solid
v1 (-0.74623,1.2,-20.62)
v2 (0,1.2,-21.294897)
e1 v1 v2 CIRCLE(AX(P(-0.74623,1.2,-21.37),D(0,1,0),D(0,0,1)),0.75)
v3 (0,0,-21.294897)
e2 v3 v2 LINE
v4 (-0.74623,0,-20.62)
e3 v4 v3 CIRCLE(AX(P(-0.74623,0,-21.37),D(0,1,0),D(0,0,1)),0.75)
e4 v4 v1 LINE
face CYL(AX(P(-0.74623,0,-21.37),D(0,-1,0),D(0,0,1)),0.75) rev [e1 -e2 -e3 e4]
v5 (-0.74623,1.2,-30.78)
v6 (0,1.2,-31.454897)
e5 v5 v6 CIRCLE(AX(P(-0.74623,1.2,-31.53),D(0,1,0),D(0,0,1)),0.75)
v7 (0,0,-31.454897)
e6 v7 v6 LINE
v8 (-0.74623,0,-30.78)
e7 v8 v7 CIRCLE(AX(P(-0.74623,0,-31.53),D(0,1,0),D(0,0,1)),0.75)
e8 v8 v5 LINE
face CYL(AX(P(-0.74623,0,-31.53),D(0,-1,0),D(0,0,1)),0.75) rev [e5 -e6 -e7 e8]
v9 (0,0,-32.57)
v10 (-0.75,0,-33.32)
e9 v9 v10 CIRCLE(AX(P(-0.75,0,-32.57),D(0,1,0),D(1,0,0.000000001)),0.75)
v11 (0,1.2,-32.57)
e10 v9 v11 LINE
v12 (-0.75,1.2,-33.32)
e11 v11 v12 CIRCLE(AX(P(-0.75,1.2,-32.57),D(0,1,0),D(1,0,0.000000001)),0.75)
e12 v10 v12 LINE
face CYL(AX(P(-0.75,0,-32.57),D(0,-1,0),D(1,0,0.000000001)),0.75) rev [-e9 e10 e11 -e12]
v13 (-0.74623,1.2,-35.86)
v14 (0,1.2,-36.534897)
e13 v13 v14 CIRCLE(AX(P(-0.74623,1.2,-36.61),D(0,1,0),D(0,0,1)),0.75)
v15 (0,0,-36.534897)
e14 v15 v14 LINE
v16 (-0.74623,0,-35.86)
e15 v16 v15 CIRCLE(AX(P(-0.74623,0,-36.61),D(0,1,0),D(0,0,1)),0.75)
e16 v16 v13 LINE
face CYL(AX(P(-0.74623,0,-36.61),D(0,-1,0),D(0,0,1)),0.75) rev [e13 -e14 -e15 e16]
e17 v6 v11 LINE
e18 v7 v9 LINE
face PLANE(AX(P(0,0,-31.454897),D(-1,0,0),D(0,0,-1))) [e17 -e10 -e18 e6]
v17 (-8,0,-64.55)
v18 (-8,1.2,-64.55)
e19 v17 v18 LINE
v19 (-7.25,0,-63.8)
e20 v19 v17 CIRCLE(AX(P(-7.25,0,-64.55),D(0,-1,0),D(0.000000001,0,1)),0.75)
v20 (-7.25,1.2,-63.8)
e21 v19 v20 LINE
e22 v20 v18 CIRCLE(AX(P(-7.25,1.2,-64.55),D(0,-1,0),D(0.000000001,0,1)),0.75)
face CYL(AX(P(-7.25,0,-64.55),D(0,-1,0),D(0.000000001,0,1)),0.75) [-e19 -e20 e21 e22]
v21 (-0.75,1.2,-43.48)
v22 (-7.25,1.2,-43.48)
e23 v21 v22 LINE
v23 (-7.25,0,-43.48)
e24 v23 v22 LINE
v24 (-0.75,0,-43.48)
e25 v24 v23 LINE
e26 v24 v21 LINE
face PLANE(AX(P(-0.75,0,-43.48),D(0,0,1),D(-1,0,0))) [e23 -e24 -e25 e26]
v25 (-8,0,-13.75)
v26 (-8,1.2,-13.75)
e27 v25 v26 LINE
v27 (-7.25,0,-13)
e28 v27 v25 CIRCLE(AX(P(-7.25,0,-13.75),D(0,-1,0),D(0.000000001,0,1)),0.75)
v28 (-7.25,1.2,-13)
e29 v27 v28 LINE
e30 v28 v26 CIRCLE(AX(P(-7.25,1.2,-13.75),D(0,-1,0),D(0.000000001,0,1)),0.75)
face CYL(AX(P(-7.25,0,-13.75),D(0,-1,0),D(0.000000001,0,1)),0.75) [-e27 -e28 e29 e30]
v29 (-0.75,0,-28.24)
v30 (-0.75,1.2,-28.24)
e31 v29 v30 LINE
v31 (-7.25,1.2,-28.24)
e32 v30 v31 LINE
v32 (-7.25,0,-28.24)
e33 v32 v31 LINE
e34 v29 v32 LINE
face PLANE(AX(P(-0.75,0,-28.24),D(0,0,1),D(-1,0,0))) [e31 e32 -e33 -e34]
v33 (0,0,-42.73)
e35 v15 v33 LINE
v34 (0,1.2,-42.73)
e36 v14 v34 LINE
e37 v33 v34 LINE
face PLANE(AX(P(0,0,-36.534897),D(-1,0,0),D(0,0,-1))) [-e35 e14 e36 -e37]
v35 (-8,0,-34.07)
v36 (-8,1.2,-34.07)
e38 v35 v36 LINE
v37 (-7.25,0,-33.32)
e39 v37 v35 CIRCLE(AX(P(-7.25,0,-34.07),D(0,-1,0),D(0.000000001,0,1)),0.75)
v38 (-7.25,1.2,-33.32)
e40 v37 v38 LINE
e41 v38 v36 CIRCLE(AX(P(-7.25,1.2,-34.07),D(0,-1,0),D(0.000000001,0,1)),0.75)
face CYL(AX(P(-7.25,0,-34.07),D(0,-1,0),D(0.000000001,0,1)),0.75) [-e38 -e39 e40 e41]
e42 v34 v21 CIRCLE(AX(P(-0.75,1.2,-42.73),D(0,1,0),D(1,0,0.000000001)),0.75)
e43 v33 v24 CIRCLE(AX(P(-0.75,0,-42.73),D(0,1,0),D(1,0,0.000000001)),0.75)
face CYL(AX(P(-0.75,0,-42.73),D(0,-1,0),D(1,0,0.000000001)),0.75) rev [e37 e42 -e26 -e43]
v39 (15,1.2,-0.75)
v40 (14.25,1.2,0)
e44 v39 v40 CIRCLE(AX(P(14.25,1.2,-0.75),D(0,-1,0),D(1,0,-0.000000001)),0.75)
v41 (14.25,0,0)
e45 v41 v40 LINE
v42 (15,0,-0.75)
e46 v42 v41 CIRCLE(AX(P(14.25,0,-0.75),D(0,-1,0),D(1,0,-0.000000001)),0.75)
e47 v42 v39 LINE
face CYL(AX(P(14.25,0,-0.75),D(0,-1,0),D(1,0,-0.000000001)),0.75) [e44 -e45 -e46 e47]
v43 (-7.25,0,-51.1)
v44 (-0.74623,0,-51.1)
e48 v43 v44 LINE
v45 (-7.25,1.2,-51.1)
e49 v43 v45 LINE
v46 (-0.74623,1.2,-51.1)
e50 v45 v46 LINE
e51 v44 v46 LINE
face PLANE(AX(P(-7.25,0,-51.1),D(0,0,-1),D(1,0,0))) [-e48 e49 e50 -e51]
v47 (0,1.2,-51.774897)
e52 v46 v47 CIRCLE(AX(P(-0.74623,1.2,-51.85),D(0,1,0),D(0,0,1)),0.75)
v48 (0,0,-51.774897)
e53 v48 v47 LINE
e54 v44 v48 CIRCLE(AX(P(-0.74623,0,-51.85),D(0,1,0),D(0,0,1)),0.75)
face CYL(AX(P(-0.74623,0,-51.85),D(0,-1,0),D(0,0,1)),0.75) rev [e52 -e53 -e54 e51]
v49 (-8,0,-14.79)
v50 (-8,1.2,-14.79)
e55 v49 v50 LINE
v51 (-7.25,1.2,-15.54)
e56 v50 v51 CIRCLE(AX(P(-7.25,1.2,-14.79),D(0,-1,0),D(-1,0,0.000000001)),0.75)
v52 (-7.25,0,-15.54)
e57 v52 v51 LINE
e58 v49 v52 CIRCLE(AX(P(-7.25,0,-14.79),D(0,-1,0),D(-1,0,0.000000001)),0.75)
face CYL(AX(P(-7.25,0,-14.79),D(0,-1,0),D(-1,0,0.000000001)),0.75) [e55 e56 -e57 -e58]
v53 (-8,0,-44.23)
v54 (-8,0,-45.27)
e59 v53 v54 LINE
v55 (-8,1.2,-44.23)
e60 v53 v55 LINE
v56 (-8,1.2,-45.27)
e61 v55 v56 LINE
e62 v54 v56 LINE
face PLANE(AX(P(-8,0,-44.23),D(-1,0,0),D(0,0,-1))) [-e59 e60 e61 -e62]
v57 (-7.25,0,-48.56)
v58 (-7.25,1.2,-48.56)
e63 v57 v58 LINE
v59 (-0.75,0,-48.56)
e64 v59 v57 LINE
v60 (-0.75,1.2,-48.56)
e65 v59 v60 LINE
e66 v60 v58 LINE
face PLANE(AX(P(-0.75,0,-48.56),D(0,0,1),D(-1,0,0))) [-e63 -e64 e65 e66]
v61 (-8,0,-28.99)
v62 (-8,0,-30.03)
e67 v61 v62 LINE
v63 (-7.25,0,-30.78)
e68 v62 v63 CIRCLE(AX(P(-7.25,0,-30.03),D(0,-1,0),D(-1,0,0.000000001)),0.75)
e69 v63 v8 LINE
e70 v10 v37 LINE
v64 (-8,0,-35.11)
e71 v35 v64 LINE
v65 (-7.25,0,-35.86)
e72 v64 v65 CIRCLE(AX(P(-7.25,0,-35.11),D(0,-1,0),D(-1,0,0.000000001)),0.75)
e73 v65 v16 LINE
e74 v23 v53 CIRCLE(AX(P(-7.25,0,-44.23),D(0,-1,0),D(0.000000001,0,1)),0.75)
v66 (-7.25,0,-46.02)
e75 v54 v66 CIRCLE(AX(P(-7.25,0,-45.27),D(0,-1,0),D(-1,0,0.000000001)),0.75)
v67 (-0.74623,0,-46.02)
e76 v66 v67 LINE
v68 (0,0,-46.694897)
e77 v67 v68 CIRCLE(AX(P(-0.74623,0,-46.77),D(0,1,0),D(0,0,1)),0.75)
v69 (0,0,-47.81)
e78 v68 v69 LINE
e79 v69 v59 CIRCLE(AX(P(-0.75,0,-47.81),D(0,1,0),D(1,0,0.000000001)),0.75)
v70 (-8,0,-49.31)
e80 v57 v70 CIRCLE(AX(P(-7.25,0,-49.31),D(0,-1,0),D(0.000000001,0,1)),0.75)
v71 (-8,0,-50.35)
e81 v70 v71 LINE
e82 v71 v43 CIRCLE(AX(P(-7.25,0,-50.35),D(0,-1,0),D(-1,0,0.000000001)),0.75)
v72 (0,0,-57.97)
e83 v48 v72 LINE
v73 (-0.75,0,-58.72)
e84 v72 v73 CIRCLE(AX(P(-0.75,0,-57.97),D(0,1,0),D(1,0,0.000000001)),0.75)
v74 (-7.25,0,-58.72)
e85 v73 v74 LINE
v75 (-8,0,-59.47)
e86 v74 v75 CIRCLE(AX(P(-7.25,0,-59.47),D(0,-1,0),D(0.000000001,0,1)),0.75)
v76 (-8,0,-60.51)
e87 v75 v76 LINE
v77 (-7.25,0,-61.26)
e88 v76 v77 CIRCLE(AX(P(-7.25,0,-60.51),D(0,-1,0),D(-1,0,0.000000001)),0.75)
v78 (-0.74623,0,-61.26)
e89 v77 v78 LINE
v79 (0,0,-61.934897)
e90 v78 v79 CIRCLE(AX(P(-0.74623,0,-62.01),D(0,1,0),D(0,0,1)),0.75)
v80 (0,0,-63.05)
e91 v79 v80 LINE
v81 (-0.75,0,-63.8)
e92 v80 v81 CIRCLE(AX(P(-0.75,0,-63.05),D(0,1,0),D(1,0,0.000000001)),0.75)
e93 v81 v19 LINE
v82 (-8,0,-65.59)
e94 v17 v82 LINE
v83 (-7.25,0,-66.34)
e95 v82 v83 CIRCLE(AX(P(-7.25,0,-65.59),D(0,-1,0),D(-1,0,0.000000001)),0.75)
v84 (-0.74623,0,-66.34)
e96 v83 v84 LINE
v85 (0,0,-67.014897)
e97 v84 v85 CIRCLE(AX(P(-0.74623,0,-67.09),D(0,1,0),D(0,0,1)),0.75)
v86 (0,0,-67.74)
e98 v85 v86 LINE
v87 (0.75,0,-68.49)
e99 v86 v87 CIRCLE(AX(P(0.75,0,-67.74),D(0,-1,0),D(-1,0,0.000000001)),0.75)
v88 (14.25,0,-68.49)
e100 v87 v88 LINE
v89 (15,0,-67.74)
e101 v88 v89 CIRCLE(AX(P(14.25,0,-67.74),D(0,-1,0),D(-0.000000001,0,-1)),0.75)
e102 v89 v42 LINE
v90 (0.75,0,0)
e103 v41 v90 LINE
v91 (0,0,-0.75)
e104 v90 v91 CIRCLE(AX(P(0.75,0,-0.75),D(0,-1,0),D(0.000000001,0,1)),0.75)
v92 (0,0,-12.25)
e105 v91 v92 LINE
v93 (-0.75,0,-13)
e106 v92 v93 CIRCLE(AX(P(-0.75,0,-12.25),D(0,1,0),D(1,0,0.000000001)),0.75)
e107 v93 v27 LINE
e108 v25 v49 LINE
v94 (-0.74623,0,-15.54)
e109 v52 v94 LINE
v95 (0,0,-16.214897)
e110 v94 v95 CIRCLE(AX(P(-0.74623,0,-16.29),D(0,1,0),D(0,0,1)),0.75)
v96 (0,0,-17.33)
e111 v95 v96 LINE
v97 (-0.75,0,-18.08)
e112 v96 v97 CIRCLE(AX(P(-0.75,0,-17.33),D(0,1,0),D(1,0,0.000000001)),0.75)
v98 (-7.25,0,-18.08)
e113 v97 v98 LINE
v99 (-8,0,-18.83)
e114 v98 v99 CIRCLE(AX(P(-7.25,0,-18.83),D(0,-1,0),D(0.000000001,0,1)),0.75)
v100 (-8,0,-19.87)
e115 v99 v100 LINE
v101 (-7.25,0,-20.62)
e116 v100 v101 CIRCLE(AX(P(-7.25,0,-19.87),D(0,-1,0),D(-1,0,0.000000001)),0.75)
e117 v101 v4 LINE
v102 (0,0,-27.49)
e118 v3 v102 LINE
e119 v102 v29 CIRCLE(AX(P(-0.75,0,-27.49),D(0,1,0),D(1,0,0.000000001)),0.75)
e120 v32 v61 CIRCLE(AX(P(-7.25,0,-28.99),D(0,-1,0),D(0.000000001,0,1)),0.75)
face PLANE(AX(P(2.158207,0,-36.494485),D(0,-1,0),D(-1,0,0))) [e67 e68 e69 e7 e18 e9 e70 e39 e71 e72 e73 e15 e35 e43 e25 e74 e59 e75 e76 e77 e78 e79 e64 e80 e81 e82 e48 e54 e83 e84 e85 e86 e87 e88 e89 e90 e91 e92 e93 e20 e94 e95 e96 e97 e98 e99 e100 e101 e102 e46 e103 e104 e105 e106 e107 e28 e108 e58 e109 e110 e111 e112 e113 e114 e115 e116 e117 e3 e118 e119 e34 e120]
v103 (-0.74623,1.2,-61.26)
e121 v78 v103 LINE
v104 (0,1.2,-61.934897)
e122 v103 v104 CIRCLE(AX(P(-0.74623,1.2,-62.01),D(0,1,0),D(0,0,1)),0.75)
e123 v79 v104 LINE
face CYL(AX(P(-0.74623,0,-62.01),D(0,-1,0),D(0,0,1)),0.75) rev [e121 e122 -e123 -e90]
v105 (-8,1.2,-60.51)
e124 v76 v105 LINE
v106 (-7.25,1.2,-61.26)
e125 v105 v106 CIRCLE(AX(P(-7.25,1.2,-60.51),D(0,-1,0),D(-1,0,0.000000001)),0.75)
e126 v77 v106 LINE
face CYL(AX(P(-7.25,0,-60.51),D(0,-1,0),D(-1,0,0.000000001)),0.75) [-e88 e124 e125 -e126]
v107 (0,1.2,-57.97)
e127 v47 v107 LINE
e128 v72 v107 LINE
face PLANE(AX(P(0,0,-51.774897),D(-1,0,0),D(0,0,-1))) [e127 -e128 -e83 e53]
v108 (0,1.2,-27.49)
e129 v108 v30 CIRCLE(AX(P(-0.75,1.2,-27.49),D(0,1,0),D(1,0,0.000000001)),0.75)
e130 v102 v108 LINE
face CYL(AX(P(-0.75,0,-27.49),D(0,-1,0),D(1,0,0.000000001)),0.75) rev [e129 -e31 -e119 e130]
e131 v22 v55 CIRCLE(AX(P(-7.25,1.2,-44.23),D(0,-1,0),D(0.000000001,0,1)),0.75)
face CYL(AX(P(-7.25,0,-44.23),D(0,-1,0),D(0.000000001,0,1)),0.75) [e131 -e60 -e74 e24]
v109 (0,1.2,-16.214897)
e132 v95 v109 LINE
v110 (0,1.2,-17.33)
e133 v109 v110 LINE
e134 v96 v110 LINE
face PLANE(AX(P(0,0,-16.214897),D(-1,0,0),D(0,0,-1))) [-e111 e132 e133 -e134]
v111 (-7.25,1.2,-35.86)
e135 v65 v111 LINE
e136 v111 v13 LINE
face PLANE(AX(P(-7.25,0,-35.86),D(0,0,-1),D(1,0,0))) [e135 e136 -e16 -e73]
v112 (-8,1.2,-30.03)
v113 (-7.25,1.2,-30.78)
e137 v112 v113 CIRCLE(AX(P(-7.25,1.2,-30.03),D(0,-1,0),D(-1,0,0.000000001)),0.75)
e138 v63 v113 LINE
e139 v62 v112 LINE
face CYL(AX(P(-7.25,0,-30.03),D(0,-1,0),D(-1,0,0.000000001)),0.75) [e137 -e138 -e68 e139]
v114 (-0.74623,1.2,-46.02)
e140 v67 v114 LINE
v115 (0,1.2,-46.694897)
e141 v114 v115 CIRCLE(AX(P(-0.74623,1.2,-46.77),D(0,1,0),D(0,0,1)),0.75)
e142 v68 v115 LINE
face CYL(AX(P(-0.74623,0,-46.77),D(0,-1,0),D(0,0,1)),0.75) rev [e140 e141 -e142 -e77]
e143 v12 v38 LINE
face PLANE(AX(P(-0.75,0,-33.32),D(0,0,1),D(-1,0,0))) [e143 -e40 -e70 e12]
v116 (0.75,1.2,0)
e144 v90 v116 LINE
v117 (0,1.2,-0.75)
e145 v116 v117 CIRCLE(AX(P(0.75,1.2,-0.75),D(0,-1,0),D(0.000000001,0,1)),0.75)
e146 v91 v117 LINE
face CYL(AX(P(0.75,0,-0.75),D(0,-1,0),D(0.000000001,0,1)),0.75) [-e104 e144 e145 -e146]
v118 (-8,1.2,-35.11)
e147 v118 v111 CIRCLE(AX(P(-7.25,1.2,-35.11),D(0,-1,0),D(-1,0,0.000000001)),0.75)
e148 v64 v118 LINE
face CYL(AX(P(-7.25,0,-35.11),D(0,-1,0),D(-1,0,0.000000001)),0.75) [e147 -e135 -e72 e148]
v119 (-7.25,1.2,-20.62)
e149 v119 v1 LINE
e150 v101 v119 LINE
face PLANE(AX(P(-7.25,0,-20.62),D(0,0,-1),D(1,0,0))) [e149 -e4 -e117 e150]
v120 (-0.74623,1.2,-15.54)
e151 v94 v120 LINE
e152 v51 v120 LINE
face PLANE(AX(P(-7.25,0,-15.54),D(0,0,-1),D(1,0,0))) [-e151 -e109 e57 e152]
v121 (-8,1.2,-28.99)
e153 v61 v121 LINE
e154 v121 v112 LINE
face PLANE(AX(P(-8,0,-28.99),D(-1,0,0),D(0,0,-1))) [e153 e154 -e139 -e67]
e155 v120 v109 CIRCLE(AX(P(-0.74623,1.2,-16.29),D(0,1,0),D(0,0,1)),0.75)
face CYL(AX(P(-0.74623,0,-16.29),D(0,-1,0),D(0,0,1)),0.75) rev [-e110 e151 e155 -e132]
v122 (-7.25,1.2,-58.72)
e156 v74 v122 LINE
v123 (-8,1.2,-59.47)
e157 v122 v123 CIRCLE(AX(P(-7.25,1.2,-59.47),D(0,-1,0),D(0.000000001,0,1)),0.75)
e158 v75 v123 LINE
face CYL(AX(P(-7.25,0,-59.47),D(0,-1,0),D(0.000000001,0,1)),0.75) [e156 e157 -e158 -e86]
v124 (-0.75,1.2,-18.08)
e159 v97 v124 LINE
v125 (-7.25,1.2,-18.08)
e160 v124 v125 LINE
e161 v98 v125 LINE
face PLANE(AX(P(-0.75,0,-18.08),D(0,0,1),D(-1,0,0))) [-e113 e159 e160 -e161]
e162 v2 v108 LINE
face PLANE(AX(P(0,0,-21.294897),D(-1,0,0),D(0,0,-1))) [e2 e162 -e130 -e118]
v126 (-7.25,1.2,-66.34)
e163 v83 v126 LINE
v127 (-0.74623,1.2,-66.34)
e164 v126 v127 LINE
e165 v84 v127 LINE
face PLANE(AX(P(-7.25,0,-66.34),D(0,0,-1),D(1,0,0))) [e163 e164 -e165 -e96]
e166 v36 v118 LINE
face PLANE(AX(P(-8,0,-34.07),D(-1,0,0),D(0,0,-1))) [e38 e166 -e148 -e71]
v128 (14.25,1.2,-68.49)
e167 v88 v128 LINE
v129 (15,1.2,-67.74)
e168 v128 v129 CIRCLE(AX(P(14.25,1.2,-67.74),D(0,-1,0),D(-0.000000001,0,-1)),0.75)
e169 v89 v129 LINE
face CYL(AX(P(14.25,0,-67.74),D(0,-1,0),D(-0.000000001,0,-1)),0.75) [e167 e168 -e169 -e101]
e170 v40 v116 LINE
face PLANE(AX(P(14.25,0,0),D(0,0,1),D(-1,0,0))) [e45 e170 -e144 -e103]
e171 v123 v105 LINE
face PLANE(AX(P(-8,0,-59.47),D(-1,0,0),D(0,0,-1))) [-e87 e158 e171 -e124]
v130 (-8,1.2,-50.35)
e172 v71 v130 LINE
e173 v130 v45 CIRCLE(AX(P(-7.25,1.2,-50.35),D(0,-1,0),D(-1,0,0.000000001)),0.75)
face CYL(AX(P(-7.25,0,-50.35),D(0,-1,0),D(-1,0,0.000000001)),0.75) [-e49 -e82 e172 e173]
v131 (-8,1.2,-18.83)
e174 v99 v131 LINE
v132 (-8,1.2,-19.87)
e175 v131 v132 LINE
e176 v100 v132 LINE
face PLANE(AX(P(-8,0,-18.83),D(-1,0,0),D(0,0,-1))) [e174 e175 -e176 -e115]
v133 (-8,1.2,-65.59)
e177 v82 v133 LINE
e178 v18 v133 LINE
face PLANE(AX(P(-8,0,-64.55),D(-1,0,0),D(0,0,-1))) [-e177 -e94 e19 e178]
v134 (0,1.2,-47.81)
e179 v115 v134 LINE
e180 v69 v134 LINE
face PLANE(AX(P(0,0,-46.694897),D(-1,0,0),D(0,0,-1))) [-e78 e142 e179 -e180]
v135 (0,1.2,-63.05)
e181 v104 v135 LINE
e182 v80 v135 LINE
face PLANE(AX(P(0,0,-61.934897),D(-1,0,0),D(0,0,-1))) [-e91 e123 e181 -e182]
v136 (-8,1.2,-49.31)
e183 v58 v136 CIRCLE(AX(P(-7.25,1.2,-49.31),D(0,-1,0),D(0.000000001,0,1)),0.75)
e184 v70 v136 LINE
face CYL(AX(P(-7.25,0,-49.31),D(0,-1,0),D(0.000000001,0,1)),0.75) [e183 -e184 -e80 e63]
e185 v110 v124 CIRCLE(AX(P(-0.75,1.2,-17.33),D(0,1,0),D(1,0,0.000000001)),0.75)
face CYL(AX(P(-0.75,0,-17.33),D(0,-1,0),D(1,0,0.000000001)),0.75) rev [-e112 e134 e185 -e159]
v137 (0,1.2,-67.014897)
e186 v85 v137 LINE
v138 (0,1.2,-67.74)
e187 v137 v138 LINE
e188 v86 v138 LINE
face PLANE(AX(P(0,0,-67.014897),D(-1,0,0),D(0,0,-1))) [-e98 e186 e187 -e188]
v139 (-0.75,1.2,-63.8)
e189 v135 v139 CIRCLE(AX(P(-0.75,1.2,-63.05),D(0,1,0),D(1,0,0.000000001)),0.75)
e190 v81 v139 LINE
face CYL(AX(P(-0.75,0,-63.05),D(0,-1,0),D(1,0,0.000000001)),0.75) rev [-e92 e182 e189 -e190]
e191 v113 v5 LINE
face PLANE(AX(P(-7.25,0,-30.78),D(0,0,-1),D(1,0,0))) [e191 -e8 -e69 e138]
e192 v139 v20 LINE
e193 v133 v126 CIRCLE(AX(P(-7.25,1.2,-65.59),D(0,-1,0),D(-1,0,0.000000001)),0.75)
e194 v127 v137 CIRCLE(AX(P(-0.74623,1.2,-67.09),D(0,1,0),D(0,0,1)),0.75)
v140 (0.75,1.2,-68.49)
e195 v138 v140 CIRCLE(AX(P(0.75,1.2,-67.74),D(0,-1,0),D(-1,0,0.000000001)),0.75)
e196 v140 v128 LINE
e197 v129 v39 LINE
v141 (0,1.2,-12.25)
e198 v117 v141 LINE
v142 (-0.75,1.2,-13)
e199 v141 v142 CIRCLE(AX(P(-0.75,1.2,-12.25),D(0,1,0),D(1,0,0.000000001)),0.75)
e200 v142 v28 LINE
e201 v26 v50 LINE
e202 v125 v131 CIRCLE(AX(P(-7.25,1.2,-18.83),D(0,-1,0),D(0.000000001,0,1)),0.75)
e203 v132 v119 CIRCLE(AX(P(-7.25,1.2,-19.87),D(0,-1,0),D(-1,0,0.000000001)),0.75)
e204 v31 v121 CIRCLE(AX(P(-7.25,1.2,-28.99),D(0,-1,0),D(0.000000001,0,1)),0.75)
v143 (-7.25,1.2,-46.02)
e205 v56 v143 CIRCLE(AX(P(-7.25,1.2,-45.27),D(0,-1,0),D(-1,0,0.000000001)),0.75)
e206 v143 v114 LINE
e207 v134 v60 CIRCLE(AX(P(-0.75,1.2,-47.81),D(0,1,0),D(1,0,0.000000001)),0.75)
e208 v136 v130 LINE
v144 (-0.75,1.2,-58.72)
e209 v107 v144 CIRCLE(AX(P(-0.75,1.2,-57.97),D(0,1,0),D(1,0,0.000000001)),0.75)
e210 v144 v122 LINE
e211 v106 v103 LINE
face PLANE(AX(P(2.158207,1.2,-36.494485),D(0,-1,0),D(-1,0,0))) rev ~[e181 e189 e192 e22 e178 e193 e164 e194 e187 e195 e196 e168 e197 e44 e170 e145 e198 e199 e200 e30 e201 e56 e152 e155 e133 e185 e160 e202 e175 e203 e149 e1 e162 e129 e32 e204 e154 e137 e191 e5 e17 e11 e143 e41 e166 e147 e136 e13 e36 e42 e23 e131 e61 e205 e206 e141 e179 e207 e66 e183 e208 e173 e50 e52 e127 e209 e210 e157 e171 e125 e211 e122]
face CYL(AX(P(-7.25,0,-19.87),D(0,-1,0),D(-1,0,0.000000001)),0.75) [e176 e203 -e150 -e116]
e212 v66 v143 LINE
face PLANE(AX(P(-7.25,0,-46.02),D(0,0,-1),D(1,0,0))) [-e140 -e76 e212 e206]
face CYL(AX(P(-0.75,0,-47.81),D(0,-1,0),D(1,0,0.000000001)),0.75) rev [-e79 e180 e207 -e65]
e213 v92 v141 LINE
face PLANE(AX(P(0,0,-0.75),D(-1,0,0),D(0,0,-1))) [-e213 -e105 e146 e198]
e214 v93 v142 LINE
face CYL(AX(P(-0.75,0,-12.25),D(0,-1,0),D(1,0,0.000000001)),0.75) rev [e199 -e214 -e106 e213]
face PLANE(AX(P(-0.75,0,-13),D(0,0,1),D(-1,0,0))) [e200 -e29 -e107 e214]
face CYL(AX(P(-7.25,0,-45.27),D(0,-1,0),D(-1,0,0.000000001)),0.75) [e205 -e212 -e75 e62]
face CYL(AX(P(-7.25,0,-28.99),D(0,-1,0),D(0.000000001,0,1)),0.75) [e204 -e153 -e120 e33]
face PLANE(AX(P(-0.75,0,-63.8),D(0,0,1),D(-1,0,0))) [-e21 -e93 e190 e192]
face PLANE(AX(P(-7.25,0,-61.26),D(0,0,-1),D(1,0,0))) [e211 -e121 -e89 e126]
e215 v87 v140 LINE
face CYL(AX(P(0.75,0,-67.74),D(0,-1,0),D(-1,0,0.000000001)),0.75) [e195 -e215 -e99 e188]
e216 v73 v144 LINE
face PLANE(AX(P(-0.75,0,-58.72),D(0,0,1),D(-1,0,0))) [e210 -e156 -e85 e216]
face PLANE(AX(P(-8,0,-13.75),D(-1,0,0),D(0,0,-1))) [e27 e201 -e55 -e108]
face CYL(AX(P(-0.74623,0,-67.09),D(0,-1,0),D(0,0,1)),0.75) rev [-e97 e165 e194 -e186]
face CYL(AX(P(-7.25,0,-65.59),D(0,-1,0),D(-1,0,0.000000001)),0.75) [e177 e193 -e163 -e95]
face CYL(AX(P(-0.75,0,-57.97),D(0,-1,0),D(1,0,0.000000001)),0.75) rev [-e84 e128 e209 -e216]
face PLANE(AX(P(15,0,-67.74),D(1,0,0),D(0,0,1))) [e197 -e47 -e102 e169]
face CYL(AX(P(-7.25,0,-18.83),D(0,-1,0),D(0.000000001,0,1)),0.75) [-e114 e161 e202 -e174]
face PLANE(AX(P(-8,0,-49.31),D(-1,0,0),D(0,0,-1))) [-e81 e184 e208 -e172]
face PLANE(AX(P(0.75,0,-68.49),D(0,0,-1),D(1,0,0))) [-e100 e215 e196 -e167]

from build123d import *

# Parameters (mm, degrees)
BOSS_EXTRUDE1_DEPTH = 1.2


with BuildPart() as part:
    # Sketch1 → Boss-Extrude1 (new body)
    with BuildSketch(Plane(origin=(0, 0, 0), x_dir=(1, 0, 0), z_dir=(0, 1, 0))):
        with BuildLine():
            Line((-0.75, 13), (-7.25, 13))
            ThreePointArc((-7.25, 13), (-7.780330086, 13.219669914), (-8, 13.75))
            Line((-8, 13.75), (-8, 14.79))
            ThreePointArc((-8, 14.79), (-7.780330086, 15.320330086), (-7.25, 15.54))
            Line((-7.25, 15.54), (-0.746230206, 15.54))
            ThreePointArc((-0.746230206, 15.54), (-0.243153345, 15.733750351), (0, 16.214896874))
            Line((0, 16.214896874), (0, 17.33))
            ThreePointArc((0, 17.33), (-0.219669914, 17.860330086), (-0.75, 18.08))
            Line((-0.75, 18.08), (-7.25, 18.08))
            ThreePointArc((-7.25, 18.08), (-7.780330086, 18.299669914), (-8, 18.83))
            Line((-8, 18.83), (-8, 19.87))
            ThreePointArc((-8, 19.87), (-7.780330086, 20.400330086), (-7.25, 20.62))
            Line((-7.25, 20.62), (-0.746230206, 20.62))
            ThreePointArc((-0.746230206, 20.62), (-0.243153345, 20.813750351), (0, 21.294896874))
            Line((0, 21.294896874), (0, 27.49))
            ThreePointArc((0, 27.49), (-0.219669914, 28.020330086), (-0.75, 28.24))
            Line((-0.75, 28.24), (-7.25, 28.24))
            ThreePointArc((-7.25, 28.24), (-7.780330086, 28.459669914), (-8, 28.99))
            Line((-8, 28.99), (-8, 30.03))
            ThreePointArc((-8, 30.03), (-7.780330086, 30.560330086), (-7.25, 30.78))
            Line((-7.25, 30.78), (-0.746230206, 30.78))
            ThreePointArc((-0.746230206, 30.78), (-0.243153345, 30.973750351), (0, 31.454896874))
            Line((0, 31.454896874), (0, 32.57))
            ThreePointArc((0, 32.57), (-0.219669914, 33.100330086), (-0.75, 33.32))
            Line((-0.75, 33.32), (-7.25, 33.32))
            ThreePointArc((-7.25, 33.32), (-7.780330086, 33.539669914), (-8, 34.07))
            Line((-8, 34.07), (-8, 35.11))
            ThreePointArc((-8, 35.11), (-7.780330086, 35.640330086), (-7.25, 35.86))
            Line((-7.25, 35.86), (-0.746230206, 35.86))
            ThreePointArc((-0.746230206, 35.86), (-0.243153345, 36.053750351), (0, 36.534896874))
            Line((0, 36.534896874), (0, 42.73))
            ThreePointArc((0, 42.73), (-0.219669914, 43.260330086), (-0.75, 43.48))
            Line((-0.75, 43.48), (-7.25, 43.48))
            ThreePointArc((-7.25, 43.48), (-7.780330086, 43.699669914), (-8, 44.23))
            Line((-8, 44.23), (-8, 45.27))
            ThreePointArc((-8, 45.27), (-7.780330086, 45.800330086), (-7.25, 46.02))
            Line((-7.25, 46.02), (-0.746230206, 46.02))
            ThreePointArc((-0.746230206, 46.02), (-0.243153345, 46.213750351), (0, 46.694896874))
            Line((0, 46.694896874), (0, 47.81))
            ThreePointArc((0, 47.81), (-0.219669914, 48.340330086), (-0.75, 48.56))
            Line((-0.75, 48.56), (-7.25, 48.56))
            ThreePointArc((-7.25, 48.56), (-7.780330086, 48.779669914), (-8, 49.31))
            Line((-8, 49.31), (-8, 50.35))
            ThreePointArc((-8, 50.35), (-7.780330086, 50.880330086), (-7.25, 51.1))
            Line((-7.25, 51.1), (-0.746230206, 51.1))
            ThreePointArc((-0.746230206, 51.1), (-0.243153345, 51.293750351), (0, 51.774896874))
            Line((0, 51.774896874), (0, 57.97))
            ThreePointArc((0, 57.97), (-0.219669914, 58.500330086), (-0.75, 58.72))
            Line((-0.75, 58.72), (-7.25, 58.72))
            ThreePointArc((-7.25, 58.72), (-7.780330086, 58.939669914), (-8, 59.47))
            Line((-8, 59.47), (-8, 60.51))
            ThreePointArc((-8, 60.51), (-7.780330086, 61.040330086), (-7.25, 61.26))
            Line((-7.25, 61.26), (-0.746230206, 61.26))
            ThreePointArc((-0.746230206, 61.26), (-0.243153345, 61.453750351), (0, 61.934896874))
            Line((0, 61.934896874), (0, 63.05))
            ThreePointArc((0, 63.05), (-0.219669914, 63.580330086), (-0.75, 63.8))
            Line((-0.75, 63.8), (-7.25, 63.8))
            ThreePointArc((-7.25, 63.8), (-7.780330086, 64.019669914), (-8, 64.55))
            Line((-8, 64.55), (-8, 65.59))
            ThreePointArc((-8, 65.59), (-7.780330086, 66.120330086), (-7.25, 66.34))
            Line((-7.25, 66.34), (-0.746230206, 66.34))
            ThreePointArc((-0.746230206, 66.34), (-0.243153345, 66.533750351), (0, 67.014896874))
            Line((0, 67.014896874), (0, 67.74))
            ThreePointArc((0, 67.74), (0.219669914, 68.270330086), (0.75, 68.49))
            Line((0.75, 68.49), (14.25, 68.49))
            ThreePointArc((14.25, 68.49), (14.780330086, 68.270330086), (15, 67.74))
            Line((15, 67.74), (15, 0.75))
            ThreePointArc((15, 0.75), (14.780330086, 0.219669914), (14.25, 0))
            Line((14.25, 0), (0.75, 0))
            ThreePointArc((0.75, 0), (0.219669914, 0.219669914), (0, 0.75))
            Line((0, 0.75), (0, 12.25))
            ThreePointArc((0, 12.25), (-0.219669914, 12.780330086), (-0.75, 13))
        make_face()
    extrude(amount=BOSS_EXTRUDE1_DEPTH)


solid = part.part
